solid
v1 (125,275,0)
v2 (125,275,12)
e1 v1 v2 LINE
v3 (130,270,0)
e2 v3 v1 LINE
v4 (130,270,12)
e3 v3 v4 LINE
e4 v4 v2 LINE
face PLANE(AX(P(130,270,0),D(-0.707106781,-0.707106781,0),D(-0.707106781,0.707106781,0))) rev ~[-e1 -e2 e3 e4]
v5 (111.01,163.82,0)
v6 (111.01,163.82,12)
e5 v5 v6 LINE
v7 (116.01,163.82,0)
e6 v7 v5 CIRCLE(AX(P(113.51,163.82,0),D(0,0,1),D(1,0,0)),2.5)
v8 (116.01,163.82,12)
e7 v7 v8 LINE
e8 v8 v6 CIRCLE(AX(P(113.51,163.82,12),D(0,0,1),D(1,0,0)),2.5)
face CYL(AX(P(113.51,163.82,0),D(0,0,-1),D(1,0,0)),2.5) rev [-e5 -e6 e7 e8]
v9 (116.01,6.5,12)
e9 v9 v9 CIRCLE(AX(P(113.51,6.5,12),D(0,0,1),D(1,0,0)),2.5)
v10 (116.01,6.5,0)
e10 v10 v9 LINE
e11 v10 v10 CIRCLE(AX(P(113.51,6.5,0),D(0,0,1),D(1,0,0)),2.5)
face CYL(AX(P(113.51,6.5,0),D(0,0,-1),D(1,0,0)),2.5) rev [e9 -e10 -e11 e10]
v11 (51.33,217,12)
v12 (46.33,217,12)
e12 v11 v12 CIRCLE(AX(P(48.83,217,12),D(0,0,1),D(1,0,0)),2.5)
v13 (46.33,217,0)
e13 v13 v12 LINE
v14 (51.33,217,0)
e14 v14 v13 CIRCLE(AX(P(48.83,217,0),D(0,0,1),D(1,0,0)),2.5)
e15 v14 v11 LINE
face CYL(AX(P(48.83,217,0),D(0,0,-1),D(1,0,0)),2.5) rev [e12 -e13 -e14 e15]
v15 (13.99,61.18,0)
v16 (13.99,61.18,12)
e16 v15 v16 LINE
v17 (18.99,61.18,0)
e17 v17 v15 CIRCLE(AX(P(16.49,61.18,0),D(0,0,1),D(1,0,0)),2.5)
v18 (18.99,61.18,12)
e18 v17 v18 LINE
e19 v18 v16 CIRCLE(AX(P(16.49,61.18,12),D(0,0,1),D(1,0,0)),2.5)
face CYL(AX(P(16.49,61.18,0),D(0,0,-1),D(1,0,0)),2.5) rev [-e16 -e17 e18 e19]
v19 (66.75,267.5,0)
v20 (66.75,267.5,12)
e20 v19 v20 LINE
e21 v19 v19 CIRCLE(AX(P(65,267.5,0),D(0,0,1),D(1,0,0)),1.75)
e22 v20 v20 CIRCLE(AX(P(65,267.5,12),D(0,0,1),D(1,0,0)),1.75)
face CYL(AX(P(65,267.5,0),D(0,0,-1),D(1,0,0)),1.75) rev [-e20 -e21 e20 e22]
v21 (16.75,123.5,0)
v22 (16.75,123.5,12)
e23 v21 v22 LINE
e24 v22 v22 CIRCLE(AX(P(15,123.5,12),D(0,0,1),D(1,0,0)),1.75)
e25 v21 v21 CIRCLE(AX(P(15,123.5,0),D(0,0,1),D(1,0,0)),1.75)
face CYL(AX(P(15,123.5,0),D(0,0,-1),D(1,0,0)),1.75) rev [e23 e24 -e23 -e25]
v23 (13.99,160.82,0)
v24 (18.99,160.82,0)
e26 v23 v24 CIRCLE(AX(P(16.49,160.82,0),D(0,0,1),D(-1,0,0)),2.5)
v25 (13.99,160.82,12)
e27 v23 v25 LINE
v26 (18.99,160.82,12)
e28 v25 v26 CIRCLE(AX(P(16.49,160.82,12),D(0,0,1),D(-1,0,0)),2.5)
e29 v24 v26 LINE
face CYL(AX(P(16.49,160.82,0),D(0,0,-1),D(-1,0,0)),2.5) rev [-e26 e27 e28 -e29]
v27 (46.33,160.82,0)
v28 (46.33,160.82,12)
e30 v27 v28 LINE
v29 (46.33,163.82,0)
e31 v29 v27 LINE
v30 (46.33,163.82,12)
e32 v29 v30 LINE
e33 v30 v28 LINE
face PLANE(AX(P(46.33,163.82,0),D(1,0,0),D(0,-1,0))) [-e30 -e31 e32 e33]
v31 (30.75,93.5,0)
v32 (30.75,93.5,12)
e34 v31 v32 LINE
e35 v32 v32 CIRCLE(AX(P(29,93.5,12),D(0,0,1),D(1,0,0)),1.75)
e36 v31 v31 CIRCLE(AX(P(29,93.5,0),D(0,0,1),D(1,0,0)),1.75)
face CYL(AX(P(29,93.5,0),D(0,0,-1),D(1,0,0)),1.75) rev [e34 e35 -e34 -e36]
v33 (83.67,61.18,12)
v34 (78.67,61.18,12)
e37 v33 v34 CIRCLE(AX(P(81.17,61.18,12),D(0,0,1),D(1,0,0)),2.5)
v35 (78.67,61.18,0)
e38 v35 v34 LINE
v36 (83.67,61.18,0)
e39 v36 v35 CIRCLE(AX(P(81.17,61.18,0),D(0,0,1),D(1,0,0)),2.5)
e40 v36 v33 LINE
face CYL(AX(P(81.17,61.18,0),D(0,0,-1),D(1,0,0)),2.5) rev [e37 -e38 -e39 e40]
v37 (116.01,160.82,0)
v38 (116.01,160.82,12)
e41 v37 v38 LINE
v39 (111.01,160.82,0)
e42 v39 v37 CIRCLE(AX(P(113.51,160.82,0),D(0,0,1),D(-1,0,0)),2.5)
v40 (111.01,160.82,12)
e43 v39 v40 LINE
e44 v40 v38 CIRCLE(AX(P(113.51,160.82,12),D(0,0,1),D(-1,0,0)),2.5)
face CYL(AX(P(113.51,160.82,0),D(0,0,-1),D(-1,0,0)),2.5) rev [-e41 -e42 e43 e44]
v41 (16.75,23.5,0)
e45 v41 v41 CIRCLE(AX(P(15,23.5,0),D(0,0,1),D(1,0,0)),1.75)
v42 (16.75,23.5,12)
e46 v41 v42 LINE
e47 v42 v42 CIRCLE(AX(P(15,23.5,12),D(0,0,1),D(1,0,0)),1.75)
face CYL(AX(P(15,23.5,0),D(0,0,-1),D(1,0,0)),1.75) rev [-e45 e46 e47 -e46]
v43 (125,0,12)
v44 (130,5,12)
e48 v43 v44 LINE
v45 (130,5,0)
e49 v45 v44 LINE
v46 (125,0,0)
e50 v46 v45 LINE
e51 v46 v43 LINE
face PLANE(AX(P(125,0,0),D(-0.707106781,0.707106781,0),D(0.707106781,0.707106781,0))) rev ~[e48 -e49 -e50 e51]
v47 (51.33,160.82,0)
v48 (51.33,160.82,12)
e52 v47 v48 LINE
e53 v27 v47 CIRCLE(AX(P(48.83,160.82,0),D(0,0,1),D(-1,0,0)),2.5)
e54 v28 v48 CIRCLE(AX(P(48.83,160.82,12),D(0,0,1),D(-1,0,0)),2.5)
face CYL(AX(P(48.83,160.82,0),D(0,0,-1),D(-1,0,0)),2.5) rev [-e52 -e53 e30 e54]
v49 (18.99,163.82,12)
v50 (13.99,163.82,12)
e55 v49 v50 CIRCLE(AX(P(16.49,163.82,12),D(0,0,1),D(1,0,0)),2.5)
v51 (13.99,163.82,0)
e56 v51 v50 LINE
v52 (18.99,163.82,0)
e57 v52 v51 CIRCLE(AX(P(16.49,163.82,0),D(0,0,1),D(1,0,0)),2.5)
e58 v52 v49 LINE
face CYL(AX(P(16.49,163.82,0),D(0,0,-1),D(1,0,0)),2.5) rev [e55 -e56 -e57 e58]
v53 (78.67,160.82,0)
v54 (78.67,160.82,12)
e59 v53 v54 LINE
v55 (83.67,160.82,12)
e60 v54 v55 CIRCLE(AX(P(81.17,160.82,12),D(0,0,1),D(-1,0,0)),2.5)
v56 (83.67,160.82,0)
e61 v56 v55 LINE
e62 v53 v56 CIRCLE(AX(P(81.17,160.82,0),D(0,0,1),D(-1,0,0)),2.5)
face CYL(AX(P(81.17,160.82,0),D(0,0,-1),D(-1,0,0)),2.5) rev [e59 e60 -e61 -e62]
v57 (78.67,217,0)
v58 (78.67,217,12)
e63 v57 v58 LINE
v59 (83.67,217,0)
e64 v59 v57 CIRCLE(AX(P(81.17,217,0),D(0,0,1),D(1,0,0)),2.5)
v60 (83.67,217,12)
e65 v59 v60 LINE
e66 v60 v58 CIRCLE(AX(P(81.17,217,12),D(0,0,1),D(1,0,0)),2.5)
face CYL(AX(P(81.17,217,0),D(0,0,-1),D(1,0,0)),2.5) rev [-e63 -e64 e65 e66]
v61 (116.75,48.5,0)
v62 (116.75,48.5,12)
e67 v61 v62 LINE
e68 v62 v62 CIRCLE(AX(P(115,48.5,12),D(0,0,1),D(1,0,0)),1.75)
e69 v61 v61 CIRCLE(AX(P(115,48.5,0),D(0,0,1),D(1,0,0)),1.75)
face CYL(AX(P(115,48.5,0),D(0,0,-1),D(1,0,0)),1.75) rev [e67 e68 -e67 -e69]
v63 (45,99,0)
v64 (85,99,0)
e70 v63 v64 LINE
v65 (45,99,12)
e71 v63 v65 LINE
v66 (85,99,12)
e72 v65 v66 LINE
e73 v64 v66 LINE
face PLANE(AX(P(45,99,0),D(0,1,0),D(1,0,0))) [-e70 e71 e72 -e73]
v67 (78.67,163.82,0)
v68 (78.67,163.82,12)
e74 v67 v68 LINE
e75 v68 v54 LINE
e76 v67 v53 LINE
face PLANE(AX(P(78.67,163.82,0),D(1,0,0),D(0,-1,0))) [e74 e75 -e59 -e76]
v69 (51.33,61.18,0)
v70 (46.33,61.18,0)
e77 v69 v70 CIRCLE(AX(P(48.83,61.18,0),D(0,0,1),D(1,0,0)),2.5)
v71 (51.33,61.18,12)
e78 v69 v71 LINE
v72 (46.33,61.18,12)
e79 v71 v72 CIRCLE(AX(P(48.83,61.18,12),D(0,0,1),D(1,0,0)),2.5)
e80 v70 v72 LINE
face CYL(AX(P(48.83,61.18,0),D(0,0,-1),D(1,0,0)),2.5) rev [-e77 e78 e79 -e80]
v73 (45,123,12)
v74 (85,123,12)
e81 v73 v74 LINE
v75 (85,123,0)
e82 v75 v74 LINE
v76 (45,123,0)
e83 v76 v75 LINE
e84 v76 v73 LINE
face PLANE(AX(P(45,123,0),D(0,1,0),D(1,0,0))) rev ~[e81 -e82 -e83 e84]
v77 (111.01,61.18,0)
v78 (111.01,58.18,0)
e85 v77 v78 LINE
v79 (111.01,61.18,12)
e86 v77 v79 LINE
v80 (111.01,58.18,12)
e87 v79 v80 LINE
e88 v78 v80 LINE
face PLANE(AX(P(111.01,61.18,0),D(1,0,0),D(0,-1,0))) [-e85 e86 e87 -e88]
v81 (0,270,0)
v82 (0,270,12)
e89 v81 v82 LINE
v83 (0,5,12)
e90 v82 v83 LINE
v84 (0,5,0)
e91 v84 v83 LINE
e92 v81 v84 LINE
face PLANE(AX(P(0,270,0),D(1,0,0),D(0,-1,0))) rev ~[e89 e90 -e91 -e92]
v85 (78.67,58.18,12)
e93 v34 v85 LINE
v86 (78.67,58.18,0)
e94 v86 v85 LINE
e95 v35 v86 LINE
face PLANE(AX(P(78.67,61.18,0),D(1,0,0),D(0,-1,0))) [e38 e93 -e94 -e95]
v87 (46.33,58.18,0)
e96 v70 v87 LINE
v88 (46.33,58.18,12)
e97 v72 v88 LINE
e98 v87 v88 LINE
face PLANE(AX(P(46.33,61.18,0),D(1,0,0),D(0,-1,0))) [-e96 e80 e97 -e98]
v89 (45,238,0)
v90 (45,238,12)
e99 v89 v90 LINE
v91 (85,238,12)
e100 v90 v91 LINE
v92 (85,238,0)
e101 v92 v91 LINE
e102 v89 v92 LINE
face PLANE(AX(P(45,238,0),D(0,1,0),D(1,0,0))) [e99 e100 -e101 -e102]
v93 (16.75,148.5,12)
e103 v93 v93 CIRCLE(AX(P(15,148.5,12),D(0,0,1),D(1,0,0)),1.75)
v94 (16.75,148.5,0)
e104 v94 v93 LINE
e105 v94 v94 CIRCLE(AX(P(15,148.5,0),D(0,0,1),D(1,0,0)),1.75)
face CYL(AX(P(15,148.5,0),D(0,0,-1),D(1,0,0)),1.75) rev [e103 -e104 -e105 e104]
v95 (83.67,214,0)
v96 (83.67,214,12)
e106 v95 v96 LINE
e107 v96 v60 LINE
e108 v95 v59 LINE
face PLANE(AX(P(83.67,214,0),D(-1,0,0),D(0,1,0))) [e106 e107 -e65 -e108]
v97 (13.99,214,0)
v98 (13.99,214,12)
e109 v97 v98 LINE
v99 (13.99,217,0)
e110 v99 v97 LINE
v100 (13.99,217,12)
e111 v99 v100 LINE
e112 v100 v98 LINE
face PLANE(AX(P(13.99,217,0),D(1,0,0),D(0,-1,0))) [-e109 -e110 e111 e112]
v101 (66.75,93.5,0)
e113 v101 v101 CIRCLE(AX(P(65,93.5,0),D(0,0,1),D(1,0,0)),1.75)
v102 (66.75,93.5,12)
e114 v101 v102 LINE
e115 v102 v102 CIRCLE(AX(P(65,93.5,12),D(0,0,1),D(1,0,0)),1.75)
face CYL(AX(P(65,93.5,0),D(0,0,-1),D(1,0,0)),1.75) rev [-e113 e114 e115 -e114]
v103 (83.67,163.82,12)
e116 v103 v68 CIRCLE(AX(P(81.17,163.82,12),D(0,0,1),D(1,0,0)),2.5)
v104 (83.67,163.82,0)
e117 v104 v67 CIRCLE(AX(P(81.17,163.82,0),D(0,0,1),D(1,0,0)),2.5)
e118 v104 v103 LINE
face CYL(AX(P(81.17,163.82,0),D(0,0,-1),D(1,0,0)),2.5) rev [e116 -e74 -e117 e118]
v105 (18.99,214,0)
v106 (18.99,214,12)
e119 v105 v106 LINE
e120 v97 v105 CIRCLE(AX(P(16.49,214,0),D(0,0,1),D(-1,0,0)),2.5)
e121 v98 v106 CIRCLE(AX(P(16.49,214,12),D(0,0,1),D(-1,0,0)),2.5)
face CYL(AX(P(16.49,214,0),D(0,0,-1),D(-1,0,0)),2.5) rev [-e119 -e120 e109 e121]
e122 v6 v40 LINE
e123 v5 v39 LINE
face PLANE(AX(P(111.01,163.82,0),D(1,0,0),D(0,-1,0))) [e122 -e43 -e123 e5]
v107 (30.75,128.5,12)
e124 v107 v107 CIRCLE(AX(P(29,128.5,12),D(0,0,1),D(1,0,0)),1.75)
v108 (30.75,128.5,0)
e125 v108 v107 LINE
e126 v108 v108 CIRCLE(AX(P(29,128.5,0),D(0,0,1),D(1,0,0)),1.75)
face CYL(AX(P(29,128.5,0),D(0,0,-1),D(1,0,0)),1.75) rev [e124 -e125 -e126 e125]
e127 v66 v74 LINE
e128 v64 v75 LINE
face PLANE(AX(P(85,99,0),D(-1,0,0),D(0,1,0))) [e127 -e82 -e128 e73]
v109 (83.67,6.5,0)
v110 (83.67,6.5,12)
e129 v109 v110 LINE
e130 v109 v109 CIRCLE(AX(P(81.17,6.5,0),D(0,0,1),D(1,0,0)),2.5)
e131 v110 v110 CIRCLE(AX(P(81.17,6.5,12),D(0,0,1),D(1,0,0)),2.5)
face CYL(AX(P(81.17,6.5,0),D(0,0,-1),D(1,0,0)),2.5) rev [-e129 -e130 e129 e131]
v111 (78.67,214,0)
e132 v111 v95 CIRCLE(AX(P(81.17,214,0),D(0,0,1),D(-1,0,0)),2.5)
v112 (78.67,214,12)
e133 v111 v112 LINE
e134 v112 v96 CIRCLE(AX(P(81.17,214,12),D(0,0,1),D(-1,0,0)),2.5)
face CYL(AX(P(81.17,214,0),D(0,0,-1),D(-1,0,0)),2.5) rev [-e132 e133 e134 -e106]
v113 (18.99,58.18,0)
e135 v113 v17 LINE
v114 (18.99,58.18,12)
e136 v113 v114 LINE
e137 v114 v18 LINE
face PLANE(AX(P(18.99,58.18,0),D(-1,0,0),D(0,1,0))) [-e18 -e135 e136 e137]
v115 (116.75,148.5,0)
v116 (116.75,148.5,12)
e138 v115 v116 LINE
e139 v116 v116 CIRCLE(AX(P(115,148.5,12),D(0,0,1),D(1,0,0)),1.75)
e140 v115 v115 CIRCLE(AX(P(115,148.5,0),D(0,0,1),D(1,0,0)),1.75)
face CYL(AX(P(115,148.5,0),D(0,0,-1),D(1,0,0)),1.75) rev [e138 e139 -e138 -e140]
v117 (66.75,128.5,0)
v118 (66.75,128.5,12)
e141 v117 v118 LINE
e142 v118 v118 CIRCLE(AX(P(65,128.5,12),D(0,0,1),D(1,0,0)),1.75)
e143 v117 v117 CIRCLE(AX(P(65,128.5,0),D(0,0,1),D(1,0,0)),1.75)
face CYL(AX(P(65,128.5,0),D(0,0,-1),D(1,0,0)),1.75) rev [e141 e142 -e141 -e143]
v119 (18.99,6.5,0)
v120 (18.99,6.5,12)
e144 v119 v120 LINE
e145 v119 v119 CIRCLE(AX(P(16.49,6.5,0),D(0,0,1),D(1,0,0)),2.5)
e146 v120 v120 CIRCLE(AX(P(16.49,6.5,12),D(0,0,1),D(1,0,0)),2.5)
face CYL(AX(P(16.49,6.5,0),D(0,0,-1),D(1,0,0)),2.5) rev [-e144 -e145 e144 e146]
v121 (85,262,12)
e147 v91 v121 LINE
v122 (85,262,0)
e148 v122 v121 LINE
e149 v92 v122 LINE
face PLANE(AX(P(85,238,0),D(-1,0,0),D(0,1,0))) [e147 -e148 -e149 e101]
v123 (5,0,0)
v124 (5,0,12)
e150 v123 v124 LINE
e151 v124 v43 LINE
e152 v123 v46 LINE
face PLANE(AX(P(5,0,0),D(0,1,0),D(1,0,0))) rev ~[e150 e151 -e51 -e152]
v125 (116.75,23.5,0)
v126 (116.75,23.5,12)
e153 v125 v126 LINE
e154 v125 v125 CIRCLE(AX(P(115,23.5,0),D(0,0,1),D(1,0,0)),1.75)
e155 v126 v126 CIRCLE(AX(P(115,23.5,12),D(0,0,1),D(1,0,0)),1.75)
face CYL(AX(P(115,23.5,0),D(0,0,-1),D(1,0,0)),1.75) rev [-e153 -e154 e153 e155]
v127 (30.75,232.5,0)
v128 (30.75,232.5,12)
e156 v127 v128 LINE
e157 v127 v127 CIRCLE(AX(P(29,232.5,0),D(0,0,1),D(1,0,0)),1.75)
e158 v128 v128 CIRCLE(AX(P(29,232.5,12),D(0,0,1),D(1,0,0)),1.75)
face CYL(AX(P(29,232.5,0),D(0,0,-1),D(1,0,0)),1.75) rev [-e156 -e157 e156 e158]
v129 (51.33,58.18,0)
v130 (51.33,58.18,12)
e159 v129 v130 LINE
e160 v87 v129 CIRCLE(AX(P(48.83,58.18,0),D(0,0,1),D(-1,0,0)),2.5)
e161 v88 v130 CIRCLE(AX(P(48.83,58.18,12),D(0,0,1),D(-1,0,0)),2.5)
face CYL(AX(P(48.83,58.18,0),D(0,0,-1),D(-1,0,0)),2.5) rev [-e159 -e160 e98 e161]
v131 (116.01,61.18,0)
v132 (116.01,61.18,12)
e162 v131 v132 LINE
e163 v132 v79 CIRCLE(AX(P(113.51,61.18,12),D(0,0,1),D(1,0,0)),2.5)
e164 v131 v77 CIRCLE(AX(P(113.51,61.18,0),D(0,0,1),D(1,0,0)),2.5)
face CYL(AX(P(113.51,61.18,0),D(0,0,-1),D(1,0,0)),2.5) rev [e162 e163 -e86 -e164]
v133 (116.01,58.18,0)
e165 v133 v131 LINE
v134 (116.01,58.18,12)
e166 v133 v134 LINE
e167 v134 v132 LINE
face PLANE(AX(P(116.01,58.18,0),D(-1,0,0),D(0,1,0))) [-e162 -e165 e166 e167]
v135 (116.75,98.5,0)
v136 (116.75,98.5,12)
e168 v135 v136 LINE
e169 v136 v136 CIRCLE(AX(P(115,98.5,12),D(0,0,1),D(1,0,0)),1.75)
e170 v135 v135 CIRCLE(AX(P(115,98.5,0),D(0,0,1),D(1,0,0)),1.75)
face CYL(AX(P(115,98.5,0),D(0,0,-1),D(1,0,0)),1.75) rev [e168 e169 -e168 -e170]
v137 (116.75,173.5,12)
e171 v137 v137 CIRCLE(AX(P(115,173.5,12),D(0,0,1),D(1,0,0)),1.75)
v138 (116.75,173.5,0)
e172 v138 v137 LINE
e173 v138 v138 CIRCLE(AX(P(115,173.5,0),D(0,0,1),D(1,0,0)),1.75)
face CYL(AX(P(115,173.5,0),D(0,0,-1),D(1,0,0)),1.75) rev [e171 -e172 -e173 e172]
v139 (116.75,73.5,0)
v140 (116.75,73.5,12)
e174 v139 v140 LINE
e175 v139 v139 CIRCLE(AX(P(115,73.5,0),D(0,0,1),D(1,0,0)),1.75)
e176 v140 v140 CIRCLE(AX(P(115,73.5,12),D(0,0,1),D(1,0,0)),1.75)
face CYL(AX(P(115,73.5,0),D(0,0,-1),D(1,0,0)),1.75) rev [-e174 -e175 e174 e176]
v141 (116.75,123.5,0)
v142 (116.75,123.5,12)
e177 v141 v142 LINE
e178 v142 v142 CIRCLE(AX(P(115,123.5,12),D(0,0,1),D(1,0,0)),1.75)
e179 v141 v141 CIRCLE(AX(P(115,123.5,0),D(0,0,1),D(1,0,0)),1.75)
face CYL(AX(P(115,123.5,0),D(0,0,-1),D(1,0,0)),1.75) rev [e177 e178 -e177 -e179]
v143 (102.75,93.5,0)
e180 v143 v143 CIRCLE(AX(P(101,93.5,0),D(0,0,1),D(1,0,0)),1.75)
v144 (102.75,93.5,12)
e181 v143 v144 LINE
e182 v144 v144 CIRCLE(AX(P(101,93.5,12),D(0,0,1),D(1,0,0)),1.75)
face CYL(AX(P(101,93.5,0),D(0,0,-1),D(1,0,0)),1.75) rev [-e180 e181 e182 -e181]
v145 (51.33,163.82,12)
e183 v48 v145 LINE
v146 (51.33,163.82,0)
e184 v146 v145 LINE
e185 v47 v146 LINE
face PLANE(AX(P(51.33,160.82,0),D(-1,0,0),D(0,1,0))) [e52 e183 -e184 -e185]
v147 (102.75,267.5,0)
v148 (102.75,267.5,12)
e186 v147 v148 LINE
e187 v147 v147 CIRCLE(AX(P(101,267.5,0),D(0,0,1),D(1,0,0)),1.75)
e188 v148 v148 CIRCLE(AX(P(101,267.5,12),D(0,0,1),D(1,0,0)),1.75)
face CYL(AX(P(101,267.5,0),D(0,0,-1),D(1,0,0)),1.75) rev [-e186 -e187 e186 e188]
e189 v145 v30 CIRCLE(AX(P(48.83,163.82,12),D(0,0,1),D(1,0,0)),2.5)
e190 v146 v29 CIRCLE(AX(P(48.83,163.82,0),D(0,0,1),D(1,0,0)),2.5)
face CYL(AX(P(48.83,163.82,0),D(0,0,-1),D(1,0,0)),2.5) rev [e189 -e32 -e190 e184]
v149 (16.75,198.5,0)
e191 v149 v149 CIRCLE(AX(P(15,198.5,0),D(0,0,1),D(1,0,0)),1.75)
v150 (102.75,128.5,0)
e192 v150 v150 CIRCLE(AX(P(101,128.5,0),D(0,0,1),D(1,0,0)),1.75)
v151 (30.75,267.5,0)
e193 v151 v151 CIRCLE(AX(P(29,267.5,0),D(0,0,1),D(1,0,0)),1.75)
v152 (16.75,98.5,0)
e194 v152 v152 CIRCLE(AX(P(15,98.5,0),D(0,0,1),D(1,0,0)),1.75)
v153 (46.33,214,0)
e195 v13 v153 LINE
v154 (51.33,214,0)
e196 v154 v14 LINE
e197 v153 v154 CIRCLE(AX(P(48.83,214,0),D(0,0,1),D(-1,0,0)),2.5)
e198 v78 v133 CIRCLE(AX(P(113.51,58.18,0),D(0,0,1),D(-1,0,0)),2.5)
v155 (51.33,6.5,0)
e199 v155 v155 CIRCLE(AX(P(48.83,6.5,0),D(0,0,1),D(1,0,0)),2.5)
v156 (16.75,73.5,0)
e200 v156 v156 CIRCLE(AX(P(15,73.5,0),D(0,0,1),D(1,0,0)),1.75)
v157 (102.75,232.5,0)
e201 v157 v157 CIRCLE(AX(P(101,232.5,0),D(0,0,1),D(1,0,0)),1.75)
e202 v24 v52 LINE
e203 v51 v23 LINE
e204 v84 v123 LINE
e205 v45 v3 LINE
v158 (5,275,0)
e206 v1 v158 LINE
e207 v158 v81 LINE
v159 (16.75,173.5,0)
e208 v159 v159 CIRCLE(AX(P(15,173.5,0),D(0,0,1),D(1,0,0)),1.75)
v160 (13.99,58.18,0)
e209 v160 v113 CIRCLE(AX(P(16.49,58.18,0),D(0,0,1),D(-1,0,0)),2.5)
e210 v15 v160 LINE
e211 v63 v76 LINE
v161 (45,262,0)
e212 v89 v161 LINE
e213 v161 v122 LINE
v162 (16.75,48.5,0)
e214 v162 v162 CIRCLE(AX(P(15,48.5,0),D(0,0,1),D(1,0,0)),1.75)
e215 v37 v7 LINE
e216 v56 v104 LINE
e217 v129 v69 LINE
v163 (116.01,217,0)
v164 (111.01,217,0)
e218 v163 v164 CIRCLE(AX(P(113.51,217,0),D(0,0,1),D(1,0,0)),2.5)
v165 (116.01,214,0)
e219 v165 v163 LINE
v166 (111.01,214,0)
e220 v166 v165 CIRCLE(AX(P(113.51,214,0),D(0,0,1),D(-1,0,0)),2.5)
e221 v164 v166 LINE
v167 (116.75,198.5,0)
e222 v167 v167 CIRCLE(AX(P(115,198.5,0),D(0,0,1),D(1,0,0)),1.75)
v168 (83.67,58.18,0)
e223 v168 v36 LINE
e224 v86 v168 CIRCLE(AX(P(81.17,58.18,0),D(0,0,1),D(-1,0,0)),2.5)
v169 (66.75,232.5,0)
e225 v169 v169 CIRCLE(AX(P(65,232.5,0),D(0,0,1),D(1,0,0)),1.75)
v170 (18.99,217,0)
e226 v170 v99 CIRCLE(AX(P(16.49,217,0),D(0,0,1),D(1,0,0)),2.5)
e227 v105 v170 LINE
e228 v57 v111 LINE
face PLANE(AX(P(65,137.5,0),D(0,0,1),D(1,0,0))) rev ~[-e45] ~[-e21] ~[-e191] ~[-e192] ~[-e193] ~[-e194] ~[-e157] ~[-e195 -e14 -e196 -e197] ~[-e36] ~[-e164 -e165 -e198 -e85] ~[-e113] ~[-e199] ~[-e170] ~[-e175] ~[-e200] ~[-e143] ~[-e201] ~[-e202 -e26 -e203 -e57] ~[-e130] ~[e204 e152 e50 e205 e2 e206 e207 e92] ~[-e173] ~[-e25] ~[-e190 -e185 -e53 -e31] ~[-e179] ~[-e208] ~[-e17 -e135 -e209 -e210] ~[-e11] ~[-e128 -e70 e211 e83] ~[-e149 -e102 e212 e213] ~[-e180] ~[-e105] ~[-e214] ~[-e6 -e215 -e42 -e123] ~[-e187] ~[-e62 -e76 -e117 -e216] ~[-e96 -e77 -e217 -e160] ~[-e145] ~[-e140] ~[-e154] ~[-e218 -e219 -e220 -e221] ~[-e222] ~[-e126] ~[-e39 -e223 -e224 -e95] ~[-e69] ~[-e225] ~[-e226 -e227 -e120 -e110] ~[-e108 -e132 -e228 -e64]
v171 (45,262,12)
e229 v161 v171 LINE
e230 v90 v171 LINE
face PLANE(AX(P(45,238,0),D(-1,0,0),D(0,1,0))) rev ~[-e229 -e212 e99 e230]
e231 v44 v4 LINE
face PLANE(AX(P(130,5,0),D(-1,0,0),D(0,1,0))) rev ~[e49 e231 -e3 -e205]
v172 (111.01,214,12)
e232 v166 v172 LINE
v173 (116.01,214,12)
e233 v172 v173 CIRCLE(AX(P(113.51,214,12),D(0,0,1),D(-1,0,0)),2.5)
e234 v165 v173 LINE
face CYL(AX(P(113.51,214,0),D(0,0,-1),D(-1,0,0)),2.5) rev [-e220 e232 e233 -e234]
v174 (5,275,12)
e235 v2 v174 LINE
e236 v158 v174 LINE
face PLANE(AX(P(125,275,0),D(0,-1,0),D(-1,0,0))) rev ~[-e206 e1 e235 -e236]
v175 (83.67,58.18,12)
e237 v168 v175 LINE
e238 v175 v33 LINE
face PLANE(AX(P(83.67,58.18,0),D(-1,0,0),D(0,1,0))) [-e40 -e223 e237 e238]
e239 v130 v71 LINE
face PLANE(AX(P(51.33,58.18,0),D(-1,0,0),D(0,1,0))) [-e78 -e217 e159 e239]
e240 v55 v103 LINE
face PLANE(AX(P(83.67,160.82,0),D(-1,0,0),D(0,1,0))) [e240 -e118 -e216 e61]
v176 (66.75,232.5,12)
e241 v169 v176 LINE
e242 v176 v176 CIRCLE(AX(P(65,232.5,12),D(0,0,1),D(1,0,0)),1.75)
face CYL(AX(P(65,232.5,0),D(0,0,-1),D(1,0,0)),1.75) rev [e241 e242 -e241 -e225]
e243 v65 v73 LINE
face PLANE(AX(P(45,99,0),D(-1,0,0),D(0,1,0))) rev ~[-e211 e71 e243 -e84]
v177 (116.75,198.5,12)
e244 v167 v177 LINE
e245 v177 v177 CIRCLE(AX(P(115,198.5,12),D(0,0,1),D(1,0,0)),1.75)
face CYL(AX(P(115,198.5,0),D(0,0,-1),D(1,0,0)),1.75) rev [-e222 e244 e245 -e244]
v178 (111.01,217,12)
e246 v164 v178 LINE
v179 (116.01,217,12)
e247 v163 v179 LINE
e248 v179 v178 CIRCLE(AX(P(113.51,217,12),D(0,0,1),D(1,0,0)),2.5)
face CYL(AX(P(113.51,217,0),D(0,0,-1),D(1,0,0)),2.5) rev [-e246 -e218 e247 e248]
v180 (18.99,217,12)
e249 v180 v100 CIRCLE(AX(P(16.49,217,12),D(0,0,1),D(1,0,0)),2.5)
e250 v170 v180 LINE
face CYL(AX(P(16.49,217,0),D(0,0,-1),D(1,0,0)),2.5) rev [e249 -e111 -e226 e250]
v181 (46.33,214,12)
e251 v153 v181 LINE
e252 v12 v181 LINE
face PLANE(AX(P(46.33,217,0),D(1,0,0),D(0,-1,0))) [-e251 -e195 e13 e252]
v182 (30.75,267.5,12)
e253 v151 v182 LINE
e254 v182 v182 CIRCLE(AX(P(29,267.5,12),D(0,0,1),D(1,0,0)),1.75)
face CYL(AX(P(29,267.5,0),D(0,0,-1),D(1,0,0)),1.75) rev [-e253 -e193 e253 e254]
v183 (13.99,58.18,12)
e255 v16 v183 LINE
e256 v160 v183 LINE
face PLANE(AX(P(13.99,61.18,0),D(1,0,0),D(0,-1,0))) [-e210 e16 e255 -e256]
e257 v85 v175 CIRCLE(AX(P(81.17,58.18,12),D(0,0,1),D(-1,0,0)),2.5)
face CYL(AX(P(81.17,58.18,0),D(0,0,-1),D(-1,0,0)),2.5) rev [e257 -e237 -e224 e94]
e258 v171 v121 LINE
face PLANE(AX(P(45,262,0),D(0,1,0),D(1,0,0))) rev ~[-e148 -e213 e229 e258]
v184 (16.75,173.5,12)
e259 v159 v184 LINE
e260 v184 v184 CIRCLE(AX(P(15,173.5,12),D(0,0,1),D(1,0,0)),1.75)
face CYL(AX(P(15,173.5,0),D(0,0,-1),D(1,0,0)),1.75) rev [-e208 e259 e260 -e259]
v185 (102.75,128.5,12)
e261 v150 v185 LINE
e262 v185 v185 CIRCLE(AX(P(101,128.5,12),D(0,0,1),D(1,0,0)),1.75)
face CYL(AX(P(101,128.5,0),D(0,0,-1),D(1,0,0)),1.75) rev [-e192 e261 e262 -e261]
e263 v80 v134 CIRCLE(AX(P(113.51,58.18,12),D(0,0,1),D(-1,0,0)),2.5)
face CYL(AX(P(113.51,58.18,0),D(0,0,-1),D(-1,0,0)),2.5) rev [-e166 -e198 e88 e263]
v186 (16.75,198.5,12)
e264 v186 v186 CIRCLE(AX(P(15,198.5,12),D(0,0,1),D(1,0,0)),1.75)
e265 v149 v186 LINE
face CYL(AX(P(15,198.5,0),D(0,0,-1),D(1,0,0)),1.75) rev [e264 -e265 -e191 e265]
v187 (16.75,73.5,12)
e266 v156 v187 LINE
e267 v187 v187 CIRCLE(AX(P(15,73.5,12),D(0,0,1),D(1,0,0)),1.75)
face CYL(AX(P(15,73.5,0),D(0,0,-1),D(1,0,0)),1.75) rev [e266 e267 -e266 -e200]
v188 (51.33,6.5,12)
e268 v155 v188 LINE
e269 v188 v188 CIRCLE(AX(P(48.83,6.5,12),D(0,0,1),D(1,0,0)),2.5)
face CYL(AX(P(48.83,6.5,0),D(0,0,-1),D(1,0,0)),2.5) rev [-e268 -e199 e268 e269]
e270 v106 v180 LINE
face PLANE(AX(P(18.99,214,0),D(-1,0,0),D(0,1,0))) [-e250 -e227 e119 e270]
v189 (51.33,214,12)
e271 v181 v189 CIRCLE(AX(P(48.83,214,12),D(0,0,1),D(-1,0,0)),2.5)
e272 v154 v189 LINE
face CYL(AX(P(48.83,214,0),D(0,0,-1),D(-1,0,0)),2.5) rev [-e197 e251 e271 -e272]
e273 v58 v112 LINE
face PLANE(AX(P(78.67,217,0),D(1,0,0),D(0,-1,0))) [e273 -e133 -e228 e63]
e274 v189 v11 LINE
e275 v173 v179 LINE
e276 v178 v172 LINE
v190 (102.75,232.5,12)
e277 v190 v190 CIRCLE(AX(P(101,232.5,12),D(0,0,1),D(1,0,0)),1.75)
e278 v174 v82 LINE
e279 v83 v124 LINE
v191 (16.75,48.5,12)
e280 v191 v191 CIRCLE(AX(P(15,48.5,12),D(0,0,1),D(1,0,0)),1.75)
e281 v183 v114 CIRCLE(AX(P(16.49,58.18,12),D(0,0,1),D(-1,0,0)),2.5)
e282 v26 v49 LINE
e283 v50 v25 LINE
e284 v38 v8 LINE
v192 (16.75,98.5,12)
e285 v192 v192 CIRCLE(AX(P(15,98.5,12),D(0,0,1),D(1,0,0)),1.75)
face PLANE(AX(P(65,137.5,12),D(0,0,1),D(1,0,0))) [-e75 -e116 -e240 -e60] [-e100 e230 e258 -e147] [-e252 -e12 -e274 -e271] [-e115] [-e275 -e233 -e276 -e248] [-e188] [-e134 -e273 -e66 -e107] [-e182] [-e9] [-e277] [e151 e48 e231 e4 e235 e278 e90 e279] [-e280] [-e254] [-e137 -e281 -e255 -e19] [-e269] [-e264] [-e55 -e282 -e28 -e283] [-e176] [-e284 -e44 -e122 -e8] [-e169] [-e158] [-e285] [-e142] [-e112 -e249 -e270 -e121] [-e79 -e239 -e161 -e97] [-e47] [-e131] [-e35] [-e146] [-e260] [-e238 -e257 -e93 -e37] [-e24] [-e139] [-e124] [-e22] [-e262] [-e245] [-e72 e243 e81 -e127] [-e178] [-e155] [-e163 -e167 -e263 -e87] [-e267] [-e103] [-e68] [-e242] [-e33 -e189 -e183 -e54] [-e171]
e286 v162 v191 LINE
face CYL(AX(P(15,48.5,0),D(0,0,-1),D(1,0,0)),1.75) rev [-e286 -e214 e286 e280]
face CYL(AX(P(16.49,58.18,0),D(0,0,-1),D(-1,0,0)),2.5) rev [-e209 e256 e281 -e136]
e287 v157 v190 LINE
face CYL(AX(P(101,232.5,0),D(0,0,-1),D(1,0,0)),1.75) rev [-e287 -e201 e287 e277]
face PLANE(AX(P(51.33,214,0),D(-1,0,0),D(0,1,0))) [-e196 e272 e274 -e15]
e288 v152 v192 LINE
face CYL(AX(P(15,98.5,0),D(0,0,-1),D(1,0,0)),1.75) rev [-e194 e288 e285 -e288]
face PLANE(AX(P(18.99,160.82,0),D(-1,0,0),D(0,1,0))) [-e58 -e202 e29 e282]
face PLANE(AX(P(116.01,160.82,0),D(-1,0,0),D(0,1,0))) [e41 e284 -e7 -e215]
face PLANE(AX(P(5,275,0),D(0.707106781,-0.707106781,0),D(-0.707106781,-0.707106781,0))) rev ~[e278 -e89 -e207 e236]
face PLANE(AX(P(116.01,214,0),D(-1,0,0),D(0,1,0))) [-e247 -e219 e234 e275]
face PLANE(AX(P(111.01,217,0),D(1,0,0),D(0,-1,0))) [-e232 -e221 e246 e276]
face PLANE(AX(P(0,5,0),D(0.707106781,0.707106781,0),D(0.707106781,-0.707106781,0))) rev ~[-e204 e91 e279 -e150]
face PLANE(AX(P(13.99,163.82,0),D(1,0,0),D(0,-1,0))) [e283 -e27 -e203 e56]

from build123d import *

# Parameters (mm, degrees)
MODEL_R             = 2.5
MODEL_R_2           = 1.75
MODEL_W             = 40
MODEL_H             = 24
BOSS_EXTRUDE1_DEPTH = 12


with BuildPart() as part:
    # Model → Boss-Extrude1 (new body)
    with BuildSketch(Plane.XY):
        Polygon((5, 275), (0, 270), (0, 5), (5, 0), (125, 0), (130, 5), (130, 270), (125, 275), align=None)
        with Locations((16.49, 6.5)):
            Circle(MODEL_R, mode=Mode.SUBTRACT)
        with Locations((48.83, 6.5)):
            Circle(MODEL_R, mode=Mode.SUBTRACT)
        with Locations((81.17, 6.5)):
            Circle(MODEL_R, mode=Mode.SUBTRACT)
        with Locations((113.51, 6.5)):
            Circle(MODEL_R, mode=Mode.SUBTRACT)
        with Locations((29, 128.5)):
            Circle(MODEL_R_2, mode=Mode.SUBTRACT)
        with Locations((65, 128.5)):
            Circle(MODEL_R_2, mode=Mode.SUBTRACT)
        with Locations((101, 128.5)):
            Circle(MODEL_R_2, mode=Mode.SUBTRACT)
        with Locations((101, 93.5)):
            Circle(MODEL_R_2, mode=Mode.SUBTRACT)
        with Locations((65, 93.5)):
            Circle(MODEL_R_2, mode=Mode.SUBTRACT)
        with Locations((29, 93.5)):
            Circle(MODEL_R_2, mode=Mode.SUBTRACT)
        with Locations((29, 267.5)):
            Circle(MODEL_R_2, mode=Mode.SUBTRACT)
        with Locations((65, 267.5)):
            Circle(MODEL_R_2, mode=Mode.SUBTRACT)
        with Locations((101, 267.5)):
            Circle(MODEL_R_2, mode=Mode.SUBTRACT)
        with Locations((101, 232.5)):
            Circle(MODEL_R_2, mode=Mode.SUBTRACT)
        with Locations((65, 232.5)):
            Circle(MODEL_R_2, mode=Mode.SUBTRACT)
        with Locations((29, 232.5)):
            Circle(MODEL_R_2, mode=Mode.SUBTRACT)
        with Locations((15, 198.5)):
            Circle(MODEL_R_2, mode=Mode.SUBTRACT)
        with Locations((15, 173.5)):
            Circle(MODEL_R_2, mode=Mode.SUBTRACT)
        with Locations((15, 148.5)):
            Circle(MODEL_R_2, mode=Mode.SUBTRACT)
        with Locations((15, 123.5)):
            Circle(MODEL_R_2, mode=Mode.SUBTRACT)
        with Locations((15, 98.5)):
            Circle(MODEL_R_2, mode=Mode.SUBTRACT)
        with Locations((15, 73.5)):
            Circle(MODEL_R_2, mode=Mode.SUBTRACT)
        with Locations((15, 48.5)):
            Circle(MODEL_R_2, mode=Mode.SUBTRACT)
        with Locations((15, 23.5)):
            Circle(MODEL_R_2, mode=Mode.SUBTRACT)
        with Locations((115, 23.5)):
            Circle(MODEL_R_2, mode=Mode.SUBTRACT)
        with Locations((115, 48.5)):
            Circle(MODEL_R_2, mode=Mode.SUBTRACT)
        with Locations((115, 73.5)):
            Circle(MODEL_R_2, mode=Mode.SUBTRACT)
        with Locations((115, 98.5)):
            Circle(MODEL_R_2, mode=Mode.SUBTRACT)
        with Locations((115, 123.5)):
            Circle(MODEL_R_2, mode=Mode.SUBTRACT)
        with Locations((115, 148.5)):
            Circle(MODEL_R_2, mode=Mode.SUBTRACT)
        with Locations((115, 173.5)):
            Circle(MODEL_R_2, mode=Mode.SUBTRACT)
        with Locations((115, 198.5)):
            Circle(MODEL_R_2, mode=Mode.SUBTRACT)
        with Locations((65, 111)):
            Rectangle(MODEL_W, MODEL_H, mode=Mode.SUBTRACT)
        with BuildLine():
            Line((13.99, 163.82), (13.99, 160.82))
            ThreePointArc((13.99, 160.82), (16.49, 158.32), (18.99, 160.82))
            Line((18.99, 160.82), (18.99, 163.82))
            ThreePointArc((18.99, 163.82), (16.49, 166.32), (13.99, 163.82))
        make_face(mode=Mode.SUBTRACT)
        with BuildLine():
            Line((46.33, 163.82), (46.33, 160.82))
            ThreePointArc((46.33, 160.82), (48.83, 158.32), (51.33, 160.82))
            Line((51.33, 160.82), (51.33, 163.82))
            ThreePointArc((51.33, 163.82), (48.83, 166.32), (46.33, 163.82))
        make_face(mode=Mode.SUBTRACT)
        with BuildLine():
            Line((78.67, 163.82), (78.67, 160.82))
            ThreePointArc((78.67, 160.82), (81.17, 158.32), (83.67, 160.82))
            Line((83.67, 160.82), (83.67, 163.82))
            ThreePointArc((83.67, 163.82), (81.17, 166.32), (78.67, 163.82))
        make_face(mode=Mode.SUBTRACT)
        with BuildLine():
            Line((111.01, 163.82), (111.01, 160.82))
            ThreePointArc((111.01, 160.82), (113.51, 158.32), (116.01, 160.82))
            Line((116.01, 160.82), (116.01, 163.82))
            ThreePointArc((116.01, 163.82), (113.51, 166.32), (111.01, 163.82))
        make_face(mode=Mode.SUBTRACT)
        with BuildLine():
            Line((13.99, 217), (13.99, 214))
            ThreePointArc((13.99, 214), (16.49, 211.5), (18.99, 214))
            Line((18.99, 214), (18.99, 217))
            ThreePointArc((18.99, 217), (16.49, 219.5), (13.99, 217))
        make_face(mode=Mode.SUBTRACT)
        with BuildLine():
            Line((51.33, 214), (51.33, 217))
            ThreePointArc((51.33, 217), (48.83, 219.5), (46.33, 217))
            Line((46.33, 217), (46.33, 214))
            ThreePointArc((46.33, 214), (48.83, 211.5), (51.33, 214))
        make_face(mode=Mode.SUBTRACT)
        with BuildLine():
            Line((83.67, 214), (83.67, 217))
            ThreePointArc((83.67, 217), (81.17, 219.5), (78.67, 217))
            Line((78.67, 217), (78.67, 214))
            ThreePointArc((78.67, 214), (81.17, 211.5), (83.67, 214))
        make_face(mode=Mode.SUBTRACT)
        with BuildLine():
            Line((116.01, 214), (116.01, 217))
            ThreePointArc((116.01, 217), (113.51, 219.5), (111.01, 217))
            Line((111.01, 217), (111.01, 214))
            ThreePointArc((111.01, 214), (113.51, 211.5), (116.01, 214))
        make_face(mode=Mode.SUBTRACT)
        with BuildLine():
            Line((18.99, 58.18), (18.99, 61.18))
            ThreePointArc((18.99, 61.18), (16.49, 63.68), (13.99, 61.18))
            Line((13.99, 61.18), (13.99, 58.18))
            ThreePointArc((13.99, 58.18), (16.49, 55.68), (18.99, 58.18))
        make_face(mode=Mode.SUBTRACT)
        with BuildLine():
            Line((51.33, 58.18), (51.33, 61.18))
            ThreePointArc((51.33, 61.18), (48.83, 63.68), (46.33, 61.18))
            Line((46.33, 61.18), (46.33, 58.18))
            ThreePointArc((46.33, 58.18), (48.83, 55.68), (51.33, 58.18))
        make_face(mode=Mode.SUBTRACT)
        with BuildLine():
            Line((83.67, 58.18), (83.67, 61.18))
            ThreePointArc((83.67, 61.18), (81.17, 63.68), (78.67, 61.18))
            Line((78.67, 61.18), (78.67, 58.18))
            ThreePointArc((78.67, 58.18), (81.17, 55.68), (83.67, 58.18))
        make_face(mode=Mode.SUBTRACT)
        with BuildLine():
            Line((116.01, 58.18), (116.01, 61.18))
            ThreePointArc((116.01, 61.18), (113.51, 63.68), (111.01, 61.18))
            Line((111.01, 61.18), (111.01, 58.18))
            ThreePointArc((111.01, 58.18), (113.51, 55.68), (116.01, 58.18))
        make_face(mode=Mode.SUBTRACT)
        with Locations((65, 250)):
            Rectangle(MODEL_W, MODEL_H, mode=Mode.SUBTRACT)
    extrude(amount=BOSS_EXTRUDE1_DEPTH)


solid = part.part
